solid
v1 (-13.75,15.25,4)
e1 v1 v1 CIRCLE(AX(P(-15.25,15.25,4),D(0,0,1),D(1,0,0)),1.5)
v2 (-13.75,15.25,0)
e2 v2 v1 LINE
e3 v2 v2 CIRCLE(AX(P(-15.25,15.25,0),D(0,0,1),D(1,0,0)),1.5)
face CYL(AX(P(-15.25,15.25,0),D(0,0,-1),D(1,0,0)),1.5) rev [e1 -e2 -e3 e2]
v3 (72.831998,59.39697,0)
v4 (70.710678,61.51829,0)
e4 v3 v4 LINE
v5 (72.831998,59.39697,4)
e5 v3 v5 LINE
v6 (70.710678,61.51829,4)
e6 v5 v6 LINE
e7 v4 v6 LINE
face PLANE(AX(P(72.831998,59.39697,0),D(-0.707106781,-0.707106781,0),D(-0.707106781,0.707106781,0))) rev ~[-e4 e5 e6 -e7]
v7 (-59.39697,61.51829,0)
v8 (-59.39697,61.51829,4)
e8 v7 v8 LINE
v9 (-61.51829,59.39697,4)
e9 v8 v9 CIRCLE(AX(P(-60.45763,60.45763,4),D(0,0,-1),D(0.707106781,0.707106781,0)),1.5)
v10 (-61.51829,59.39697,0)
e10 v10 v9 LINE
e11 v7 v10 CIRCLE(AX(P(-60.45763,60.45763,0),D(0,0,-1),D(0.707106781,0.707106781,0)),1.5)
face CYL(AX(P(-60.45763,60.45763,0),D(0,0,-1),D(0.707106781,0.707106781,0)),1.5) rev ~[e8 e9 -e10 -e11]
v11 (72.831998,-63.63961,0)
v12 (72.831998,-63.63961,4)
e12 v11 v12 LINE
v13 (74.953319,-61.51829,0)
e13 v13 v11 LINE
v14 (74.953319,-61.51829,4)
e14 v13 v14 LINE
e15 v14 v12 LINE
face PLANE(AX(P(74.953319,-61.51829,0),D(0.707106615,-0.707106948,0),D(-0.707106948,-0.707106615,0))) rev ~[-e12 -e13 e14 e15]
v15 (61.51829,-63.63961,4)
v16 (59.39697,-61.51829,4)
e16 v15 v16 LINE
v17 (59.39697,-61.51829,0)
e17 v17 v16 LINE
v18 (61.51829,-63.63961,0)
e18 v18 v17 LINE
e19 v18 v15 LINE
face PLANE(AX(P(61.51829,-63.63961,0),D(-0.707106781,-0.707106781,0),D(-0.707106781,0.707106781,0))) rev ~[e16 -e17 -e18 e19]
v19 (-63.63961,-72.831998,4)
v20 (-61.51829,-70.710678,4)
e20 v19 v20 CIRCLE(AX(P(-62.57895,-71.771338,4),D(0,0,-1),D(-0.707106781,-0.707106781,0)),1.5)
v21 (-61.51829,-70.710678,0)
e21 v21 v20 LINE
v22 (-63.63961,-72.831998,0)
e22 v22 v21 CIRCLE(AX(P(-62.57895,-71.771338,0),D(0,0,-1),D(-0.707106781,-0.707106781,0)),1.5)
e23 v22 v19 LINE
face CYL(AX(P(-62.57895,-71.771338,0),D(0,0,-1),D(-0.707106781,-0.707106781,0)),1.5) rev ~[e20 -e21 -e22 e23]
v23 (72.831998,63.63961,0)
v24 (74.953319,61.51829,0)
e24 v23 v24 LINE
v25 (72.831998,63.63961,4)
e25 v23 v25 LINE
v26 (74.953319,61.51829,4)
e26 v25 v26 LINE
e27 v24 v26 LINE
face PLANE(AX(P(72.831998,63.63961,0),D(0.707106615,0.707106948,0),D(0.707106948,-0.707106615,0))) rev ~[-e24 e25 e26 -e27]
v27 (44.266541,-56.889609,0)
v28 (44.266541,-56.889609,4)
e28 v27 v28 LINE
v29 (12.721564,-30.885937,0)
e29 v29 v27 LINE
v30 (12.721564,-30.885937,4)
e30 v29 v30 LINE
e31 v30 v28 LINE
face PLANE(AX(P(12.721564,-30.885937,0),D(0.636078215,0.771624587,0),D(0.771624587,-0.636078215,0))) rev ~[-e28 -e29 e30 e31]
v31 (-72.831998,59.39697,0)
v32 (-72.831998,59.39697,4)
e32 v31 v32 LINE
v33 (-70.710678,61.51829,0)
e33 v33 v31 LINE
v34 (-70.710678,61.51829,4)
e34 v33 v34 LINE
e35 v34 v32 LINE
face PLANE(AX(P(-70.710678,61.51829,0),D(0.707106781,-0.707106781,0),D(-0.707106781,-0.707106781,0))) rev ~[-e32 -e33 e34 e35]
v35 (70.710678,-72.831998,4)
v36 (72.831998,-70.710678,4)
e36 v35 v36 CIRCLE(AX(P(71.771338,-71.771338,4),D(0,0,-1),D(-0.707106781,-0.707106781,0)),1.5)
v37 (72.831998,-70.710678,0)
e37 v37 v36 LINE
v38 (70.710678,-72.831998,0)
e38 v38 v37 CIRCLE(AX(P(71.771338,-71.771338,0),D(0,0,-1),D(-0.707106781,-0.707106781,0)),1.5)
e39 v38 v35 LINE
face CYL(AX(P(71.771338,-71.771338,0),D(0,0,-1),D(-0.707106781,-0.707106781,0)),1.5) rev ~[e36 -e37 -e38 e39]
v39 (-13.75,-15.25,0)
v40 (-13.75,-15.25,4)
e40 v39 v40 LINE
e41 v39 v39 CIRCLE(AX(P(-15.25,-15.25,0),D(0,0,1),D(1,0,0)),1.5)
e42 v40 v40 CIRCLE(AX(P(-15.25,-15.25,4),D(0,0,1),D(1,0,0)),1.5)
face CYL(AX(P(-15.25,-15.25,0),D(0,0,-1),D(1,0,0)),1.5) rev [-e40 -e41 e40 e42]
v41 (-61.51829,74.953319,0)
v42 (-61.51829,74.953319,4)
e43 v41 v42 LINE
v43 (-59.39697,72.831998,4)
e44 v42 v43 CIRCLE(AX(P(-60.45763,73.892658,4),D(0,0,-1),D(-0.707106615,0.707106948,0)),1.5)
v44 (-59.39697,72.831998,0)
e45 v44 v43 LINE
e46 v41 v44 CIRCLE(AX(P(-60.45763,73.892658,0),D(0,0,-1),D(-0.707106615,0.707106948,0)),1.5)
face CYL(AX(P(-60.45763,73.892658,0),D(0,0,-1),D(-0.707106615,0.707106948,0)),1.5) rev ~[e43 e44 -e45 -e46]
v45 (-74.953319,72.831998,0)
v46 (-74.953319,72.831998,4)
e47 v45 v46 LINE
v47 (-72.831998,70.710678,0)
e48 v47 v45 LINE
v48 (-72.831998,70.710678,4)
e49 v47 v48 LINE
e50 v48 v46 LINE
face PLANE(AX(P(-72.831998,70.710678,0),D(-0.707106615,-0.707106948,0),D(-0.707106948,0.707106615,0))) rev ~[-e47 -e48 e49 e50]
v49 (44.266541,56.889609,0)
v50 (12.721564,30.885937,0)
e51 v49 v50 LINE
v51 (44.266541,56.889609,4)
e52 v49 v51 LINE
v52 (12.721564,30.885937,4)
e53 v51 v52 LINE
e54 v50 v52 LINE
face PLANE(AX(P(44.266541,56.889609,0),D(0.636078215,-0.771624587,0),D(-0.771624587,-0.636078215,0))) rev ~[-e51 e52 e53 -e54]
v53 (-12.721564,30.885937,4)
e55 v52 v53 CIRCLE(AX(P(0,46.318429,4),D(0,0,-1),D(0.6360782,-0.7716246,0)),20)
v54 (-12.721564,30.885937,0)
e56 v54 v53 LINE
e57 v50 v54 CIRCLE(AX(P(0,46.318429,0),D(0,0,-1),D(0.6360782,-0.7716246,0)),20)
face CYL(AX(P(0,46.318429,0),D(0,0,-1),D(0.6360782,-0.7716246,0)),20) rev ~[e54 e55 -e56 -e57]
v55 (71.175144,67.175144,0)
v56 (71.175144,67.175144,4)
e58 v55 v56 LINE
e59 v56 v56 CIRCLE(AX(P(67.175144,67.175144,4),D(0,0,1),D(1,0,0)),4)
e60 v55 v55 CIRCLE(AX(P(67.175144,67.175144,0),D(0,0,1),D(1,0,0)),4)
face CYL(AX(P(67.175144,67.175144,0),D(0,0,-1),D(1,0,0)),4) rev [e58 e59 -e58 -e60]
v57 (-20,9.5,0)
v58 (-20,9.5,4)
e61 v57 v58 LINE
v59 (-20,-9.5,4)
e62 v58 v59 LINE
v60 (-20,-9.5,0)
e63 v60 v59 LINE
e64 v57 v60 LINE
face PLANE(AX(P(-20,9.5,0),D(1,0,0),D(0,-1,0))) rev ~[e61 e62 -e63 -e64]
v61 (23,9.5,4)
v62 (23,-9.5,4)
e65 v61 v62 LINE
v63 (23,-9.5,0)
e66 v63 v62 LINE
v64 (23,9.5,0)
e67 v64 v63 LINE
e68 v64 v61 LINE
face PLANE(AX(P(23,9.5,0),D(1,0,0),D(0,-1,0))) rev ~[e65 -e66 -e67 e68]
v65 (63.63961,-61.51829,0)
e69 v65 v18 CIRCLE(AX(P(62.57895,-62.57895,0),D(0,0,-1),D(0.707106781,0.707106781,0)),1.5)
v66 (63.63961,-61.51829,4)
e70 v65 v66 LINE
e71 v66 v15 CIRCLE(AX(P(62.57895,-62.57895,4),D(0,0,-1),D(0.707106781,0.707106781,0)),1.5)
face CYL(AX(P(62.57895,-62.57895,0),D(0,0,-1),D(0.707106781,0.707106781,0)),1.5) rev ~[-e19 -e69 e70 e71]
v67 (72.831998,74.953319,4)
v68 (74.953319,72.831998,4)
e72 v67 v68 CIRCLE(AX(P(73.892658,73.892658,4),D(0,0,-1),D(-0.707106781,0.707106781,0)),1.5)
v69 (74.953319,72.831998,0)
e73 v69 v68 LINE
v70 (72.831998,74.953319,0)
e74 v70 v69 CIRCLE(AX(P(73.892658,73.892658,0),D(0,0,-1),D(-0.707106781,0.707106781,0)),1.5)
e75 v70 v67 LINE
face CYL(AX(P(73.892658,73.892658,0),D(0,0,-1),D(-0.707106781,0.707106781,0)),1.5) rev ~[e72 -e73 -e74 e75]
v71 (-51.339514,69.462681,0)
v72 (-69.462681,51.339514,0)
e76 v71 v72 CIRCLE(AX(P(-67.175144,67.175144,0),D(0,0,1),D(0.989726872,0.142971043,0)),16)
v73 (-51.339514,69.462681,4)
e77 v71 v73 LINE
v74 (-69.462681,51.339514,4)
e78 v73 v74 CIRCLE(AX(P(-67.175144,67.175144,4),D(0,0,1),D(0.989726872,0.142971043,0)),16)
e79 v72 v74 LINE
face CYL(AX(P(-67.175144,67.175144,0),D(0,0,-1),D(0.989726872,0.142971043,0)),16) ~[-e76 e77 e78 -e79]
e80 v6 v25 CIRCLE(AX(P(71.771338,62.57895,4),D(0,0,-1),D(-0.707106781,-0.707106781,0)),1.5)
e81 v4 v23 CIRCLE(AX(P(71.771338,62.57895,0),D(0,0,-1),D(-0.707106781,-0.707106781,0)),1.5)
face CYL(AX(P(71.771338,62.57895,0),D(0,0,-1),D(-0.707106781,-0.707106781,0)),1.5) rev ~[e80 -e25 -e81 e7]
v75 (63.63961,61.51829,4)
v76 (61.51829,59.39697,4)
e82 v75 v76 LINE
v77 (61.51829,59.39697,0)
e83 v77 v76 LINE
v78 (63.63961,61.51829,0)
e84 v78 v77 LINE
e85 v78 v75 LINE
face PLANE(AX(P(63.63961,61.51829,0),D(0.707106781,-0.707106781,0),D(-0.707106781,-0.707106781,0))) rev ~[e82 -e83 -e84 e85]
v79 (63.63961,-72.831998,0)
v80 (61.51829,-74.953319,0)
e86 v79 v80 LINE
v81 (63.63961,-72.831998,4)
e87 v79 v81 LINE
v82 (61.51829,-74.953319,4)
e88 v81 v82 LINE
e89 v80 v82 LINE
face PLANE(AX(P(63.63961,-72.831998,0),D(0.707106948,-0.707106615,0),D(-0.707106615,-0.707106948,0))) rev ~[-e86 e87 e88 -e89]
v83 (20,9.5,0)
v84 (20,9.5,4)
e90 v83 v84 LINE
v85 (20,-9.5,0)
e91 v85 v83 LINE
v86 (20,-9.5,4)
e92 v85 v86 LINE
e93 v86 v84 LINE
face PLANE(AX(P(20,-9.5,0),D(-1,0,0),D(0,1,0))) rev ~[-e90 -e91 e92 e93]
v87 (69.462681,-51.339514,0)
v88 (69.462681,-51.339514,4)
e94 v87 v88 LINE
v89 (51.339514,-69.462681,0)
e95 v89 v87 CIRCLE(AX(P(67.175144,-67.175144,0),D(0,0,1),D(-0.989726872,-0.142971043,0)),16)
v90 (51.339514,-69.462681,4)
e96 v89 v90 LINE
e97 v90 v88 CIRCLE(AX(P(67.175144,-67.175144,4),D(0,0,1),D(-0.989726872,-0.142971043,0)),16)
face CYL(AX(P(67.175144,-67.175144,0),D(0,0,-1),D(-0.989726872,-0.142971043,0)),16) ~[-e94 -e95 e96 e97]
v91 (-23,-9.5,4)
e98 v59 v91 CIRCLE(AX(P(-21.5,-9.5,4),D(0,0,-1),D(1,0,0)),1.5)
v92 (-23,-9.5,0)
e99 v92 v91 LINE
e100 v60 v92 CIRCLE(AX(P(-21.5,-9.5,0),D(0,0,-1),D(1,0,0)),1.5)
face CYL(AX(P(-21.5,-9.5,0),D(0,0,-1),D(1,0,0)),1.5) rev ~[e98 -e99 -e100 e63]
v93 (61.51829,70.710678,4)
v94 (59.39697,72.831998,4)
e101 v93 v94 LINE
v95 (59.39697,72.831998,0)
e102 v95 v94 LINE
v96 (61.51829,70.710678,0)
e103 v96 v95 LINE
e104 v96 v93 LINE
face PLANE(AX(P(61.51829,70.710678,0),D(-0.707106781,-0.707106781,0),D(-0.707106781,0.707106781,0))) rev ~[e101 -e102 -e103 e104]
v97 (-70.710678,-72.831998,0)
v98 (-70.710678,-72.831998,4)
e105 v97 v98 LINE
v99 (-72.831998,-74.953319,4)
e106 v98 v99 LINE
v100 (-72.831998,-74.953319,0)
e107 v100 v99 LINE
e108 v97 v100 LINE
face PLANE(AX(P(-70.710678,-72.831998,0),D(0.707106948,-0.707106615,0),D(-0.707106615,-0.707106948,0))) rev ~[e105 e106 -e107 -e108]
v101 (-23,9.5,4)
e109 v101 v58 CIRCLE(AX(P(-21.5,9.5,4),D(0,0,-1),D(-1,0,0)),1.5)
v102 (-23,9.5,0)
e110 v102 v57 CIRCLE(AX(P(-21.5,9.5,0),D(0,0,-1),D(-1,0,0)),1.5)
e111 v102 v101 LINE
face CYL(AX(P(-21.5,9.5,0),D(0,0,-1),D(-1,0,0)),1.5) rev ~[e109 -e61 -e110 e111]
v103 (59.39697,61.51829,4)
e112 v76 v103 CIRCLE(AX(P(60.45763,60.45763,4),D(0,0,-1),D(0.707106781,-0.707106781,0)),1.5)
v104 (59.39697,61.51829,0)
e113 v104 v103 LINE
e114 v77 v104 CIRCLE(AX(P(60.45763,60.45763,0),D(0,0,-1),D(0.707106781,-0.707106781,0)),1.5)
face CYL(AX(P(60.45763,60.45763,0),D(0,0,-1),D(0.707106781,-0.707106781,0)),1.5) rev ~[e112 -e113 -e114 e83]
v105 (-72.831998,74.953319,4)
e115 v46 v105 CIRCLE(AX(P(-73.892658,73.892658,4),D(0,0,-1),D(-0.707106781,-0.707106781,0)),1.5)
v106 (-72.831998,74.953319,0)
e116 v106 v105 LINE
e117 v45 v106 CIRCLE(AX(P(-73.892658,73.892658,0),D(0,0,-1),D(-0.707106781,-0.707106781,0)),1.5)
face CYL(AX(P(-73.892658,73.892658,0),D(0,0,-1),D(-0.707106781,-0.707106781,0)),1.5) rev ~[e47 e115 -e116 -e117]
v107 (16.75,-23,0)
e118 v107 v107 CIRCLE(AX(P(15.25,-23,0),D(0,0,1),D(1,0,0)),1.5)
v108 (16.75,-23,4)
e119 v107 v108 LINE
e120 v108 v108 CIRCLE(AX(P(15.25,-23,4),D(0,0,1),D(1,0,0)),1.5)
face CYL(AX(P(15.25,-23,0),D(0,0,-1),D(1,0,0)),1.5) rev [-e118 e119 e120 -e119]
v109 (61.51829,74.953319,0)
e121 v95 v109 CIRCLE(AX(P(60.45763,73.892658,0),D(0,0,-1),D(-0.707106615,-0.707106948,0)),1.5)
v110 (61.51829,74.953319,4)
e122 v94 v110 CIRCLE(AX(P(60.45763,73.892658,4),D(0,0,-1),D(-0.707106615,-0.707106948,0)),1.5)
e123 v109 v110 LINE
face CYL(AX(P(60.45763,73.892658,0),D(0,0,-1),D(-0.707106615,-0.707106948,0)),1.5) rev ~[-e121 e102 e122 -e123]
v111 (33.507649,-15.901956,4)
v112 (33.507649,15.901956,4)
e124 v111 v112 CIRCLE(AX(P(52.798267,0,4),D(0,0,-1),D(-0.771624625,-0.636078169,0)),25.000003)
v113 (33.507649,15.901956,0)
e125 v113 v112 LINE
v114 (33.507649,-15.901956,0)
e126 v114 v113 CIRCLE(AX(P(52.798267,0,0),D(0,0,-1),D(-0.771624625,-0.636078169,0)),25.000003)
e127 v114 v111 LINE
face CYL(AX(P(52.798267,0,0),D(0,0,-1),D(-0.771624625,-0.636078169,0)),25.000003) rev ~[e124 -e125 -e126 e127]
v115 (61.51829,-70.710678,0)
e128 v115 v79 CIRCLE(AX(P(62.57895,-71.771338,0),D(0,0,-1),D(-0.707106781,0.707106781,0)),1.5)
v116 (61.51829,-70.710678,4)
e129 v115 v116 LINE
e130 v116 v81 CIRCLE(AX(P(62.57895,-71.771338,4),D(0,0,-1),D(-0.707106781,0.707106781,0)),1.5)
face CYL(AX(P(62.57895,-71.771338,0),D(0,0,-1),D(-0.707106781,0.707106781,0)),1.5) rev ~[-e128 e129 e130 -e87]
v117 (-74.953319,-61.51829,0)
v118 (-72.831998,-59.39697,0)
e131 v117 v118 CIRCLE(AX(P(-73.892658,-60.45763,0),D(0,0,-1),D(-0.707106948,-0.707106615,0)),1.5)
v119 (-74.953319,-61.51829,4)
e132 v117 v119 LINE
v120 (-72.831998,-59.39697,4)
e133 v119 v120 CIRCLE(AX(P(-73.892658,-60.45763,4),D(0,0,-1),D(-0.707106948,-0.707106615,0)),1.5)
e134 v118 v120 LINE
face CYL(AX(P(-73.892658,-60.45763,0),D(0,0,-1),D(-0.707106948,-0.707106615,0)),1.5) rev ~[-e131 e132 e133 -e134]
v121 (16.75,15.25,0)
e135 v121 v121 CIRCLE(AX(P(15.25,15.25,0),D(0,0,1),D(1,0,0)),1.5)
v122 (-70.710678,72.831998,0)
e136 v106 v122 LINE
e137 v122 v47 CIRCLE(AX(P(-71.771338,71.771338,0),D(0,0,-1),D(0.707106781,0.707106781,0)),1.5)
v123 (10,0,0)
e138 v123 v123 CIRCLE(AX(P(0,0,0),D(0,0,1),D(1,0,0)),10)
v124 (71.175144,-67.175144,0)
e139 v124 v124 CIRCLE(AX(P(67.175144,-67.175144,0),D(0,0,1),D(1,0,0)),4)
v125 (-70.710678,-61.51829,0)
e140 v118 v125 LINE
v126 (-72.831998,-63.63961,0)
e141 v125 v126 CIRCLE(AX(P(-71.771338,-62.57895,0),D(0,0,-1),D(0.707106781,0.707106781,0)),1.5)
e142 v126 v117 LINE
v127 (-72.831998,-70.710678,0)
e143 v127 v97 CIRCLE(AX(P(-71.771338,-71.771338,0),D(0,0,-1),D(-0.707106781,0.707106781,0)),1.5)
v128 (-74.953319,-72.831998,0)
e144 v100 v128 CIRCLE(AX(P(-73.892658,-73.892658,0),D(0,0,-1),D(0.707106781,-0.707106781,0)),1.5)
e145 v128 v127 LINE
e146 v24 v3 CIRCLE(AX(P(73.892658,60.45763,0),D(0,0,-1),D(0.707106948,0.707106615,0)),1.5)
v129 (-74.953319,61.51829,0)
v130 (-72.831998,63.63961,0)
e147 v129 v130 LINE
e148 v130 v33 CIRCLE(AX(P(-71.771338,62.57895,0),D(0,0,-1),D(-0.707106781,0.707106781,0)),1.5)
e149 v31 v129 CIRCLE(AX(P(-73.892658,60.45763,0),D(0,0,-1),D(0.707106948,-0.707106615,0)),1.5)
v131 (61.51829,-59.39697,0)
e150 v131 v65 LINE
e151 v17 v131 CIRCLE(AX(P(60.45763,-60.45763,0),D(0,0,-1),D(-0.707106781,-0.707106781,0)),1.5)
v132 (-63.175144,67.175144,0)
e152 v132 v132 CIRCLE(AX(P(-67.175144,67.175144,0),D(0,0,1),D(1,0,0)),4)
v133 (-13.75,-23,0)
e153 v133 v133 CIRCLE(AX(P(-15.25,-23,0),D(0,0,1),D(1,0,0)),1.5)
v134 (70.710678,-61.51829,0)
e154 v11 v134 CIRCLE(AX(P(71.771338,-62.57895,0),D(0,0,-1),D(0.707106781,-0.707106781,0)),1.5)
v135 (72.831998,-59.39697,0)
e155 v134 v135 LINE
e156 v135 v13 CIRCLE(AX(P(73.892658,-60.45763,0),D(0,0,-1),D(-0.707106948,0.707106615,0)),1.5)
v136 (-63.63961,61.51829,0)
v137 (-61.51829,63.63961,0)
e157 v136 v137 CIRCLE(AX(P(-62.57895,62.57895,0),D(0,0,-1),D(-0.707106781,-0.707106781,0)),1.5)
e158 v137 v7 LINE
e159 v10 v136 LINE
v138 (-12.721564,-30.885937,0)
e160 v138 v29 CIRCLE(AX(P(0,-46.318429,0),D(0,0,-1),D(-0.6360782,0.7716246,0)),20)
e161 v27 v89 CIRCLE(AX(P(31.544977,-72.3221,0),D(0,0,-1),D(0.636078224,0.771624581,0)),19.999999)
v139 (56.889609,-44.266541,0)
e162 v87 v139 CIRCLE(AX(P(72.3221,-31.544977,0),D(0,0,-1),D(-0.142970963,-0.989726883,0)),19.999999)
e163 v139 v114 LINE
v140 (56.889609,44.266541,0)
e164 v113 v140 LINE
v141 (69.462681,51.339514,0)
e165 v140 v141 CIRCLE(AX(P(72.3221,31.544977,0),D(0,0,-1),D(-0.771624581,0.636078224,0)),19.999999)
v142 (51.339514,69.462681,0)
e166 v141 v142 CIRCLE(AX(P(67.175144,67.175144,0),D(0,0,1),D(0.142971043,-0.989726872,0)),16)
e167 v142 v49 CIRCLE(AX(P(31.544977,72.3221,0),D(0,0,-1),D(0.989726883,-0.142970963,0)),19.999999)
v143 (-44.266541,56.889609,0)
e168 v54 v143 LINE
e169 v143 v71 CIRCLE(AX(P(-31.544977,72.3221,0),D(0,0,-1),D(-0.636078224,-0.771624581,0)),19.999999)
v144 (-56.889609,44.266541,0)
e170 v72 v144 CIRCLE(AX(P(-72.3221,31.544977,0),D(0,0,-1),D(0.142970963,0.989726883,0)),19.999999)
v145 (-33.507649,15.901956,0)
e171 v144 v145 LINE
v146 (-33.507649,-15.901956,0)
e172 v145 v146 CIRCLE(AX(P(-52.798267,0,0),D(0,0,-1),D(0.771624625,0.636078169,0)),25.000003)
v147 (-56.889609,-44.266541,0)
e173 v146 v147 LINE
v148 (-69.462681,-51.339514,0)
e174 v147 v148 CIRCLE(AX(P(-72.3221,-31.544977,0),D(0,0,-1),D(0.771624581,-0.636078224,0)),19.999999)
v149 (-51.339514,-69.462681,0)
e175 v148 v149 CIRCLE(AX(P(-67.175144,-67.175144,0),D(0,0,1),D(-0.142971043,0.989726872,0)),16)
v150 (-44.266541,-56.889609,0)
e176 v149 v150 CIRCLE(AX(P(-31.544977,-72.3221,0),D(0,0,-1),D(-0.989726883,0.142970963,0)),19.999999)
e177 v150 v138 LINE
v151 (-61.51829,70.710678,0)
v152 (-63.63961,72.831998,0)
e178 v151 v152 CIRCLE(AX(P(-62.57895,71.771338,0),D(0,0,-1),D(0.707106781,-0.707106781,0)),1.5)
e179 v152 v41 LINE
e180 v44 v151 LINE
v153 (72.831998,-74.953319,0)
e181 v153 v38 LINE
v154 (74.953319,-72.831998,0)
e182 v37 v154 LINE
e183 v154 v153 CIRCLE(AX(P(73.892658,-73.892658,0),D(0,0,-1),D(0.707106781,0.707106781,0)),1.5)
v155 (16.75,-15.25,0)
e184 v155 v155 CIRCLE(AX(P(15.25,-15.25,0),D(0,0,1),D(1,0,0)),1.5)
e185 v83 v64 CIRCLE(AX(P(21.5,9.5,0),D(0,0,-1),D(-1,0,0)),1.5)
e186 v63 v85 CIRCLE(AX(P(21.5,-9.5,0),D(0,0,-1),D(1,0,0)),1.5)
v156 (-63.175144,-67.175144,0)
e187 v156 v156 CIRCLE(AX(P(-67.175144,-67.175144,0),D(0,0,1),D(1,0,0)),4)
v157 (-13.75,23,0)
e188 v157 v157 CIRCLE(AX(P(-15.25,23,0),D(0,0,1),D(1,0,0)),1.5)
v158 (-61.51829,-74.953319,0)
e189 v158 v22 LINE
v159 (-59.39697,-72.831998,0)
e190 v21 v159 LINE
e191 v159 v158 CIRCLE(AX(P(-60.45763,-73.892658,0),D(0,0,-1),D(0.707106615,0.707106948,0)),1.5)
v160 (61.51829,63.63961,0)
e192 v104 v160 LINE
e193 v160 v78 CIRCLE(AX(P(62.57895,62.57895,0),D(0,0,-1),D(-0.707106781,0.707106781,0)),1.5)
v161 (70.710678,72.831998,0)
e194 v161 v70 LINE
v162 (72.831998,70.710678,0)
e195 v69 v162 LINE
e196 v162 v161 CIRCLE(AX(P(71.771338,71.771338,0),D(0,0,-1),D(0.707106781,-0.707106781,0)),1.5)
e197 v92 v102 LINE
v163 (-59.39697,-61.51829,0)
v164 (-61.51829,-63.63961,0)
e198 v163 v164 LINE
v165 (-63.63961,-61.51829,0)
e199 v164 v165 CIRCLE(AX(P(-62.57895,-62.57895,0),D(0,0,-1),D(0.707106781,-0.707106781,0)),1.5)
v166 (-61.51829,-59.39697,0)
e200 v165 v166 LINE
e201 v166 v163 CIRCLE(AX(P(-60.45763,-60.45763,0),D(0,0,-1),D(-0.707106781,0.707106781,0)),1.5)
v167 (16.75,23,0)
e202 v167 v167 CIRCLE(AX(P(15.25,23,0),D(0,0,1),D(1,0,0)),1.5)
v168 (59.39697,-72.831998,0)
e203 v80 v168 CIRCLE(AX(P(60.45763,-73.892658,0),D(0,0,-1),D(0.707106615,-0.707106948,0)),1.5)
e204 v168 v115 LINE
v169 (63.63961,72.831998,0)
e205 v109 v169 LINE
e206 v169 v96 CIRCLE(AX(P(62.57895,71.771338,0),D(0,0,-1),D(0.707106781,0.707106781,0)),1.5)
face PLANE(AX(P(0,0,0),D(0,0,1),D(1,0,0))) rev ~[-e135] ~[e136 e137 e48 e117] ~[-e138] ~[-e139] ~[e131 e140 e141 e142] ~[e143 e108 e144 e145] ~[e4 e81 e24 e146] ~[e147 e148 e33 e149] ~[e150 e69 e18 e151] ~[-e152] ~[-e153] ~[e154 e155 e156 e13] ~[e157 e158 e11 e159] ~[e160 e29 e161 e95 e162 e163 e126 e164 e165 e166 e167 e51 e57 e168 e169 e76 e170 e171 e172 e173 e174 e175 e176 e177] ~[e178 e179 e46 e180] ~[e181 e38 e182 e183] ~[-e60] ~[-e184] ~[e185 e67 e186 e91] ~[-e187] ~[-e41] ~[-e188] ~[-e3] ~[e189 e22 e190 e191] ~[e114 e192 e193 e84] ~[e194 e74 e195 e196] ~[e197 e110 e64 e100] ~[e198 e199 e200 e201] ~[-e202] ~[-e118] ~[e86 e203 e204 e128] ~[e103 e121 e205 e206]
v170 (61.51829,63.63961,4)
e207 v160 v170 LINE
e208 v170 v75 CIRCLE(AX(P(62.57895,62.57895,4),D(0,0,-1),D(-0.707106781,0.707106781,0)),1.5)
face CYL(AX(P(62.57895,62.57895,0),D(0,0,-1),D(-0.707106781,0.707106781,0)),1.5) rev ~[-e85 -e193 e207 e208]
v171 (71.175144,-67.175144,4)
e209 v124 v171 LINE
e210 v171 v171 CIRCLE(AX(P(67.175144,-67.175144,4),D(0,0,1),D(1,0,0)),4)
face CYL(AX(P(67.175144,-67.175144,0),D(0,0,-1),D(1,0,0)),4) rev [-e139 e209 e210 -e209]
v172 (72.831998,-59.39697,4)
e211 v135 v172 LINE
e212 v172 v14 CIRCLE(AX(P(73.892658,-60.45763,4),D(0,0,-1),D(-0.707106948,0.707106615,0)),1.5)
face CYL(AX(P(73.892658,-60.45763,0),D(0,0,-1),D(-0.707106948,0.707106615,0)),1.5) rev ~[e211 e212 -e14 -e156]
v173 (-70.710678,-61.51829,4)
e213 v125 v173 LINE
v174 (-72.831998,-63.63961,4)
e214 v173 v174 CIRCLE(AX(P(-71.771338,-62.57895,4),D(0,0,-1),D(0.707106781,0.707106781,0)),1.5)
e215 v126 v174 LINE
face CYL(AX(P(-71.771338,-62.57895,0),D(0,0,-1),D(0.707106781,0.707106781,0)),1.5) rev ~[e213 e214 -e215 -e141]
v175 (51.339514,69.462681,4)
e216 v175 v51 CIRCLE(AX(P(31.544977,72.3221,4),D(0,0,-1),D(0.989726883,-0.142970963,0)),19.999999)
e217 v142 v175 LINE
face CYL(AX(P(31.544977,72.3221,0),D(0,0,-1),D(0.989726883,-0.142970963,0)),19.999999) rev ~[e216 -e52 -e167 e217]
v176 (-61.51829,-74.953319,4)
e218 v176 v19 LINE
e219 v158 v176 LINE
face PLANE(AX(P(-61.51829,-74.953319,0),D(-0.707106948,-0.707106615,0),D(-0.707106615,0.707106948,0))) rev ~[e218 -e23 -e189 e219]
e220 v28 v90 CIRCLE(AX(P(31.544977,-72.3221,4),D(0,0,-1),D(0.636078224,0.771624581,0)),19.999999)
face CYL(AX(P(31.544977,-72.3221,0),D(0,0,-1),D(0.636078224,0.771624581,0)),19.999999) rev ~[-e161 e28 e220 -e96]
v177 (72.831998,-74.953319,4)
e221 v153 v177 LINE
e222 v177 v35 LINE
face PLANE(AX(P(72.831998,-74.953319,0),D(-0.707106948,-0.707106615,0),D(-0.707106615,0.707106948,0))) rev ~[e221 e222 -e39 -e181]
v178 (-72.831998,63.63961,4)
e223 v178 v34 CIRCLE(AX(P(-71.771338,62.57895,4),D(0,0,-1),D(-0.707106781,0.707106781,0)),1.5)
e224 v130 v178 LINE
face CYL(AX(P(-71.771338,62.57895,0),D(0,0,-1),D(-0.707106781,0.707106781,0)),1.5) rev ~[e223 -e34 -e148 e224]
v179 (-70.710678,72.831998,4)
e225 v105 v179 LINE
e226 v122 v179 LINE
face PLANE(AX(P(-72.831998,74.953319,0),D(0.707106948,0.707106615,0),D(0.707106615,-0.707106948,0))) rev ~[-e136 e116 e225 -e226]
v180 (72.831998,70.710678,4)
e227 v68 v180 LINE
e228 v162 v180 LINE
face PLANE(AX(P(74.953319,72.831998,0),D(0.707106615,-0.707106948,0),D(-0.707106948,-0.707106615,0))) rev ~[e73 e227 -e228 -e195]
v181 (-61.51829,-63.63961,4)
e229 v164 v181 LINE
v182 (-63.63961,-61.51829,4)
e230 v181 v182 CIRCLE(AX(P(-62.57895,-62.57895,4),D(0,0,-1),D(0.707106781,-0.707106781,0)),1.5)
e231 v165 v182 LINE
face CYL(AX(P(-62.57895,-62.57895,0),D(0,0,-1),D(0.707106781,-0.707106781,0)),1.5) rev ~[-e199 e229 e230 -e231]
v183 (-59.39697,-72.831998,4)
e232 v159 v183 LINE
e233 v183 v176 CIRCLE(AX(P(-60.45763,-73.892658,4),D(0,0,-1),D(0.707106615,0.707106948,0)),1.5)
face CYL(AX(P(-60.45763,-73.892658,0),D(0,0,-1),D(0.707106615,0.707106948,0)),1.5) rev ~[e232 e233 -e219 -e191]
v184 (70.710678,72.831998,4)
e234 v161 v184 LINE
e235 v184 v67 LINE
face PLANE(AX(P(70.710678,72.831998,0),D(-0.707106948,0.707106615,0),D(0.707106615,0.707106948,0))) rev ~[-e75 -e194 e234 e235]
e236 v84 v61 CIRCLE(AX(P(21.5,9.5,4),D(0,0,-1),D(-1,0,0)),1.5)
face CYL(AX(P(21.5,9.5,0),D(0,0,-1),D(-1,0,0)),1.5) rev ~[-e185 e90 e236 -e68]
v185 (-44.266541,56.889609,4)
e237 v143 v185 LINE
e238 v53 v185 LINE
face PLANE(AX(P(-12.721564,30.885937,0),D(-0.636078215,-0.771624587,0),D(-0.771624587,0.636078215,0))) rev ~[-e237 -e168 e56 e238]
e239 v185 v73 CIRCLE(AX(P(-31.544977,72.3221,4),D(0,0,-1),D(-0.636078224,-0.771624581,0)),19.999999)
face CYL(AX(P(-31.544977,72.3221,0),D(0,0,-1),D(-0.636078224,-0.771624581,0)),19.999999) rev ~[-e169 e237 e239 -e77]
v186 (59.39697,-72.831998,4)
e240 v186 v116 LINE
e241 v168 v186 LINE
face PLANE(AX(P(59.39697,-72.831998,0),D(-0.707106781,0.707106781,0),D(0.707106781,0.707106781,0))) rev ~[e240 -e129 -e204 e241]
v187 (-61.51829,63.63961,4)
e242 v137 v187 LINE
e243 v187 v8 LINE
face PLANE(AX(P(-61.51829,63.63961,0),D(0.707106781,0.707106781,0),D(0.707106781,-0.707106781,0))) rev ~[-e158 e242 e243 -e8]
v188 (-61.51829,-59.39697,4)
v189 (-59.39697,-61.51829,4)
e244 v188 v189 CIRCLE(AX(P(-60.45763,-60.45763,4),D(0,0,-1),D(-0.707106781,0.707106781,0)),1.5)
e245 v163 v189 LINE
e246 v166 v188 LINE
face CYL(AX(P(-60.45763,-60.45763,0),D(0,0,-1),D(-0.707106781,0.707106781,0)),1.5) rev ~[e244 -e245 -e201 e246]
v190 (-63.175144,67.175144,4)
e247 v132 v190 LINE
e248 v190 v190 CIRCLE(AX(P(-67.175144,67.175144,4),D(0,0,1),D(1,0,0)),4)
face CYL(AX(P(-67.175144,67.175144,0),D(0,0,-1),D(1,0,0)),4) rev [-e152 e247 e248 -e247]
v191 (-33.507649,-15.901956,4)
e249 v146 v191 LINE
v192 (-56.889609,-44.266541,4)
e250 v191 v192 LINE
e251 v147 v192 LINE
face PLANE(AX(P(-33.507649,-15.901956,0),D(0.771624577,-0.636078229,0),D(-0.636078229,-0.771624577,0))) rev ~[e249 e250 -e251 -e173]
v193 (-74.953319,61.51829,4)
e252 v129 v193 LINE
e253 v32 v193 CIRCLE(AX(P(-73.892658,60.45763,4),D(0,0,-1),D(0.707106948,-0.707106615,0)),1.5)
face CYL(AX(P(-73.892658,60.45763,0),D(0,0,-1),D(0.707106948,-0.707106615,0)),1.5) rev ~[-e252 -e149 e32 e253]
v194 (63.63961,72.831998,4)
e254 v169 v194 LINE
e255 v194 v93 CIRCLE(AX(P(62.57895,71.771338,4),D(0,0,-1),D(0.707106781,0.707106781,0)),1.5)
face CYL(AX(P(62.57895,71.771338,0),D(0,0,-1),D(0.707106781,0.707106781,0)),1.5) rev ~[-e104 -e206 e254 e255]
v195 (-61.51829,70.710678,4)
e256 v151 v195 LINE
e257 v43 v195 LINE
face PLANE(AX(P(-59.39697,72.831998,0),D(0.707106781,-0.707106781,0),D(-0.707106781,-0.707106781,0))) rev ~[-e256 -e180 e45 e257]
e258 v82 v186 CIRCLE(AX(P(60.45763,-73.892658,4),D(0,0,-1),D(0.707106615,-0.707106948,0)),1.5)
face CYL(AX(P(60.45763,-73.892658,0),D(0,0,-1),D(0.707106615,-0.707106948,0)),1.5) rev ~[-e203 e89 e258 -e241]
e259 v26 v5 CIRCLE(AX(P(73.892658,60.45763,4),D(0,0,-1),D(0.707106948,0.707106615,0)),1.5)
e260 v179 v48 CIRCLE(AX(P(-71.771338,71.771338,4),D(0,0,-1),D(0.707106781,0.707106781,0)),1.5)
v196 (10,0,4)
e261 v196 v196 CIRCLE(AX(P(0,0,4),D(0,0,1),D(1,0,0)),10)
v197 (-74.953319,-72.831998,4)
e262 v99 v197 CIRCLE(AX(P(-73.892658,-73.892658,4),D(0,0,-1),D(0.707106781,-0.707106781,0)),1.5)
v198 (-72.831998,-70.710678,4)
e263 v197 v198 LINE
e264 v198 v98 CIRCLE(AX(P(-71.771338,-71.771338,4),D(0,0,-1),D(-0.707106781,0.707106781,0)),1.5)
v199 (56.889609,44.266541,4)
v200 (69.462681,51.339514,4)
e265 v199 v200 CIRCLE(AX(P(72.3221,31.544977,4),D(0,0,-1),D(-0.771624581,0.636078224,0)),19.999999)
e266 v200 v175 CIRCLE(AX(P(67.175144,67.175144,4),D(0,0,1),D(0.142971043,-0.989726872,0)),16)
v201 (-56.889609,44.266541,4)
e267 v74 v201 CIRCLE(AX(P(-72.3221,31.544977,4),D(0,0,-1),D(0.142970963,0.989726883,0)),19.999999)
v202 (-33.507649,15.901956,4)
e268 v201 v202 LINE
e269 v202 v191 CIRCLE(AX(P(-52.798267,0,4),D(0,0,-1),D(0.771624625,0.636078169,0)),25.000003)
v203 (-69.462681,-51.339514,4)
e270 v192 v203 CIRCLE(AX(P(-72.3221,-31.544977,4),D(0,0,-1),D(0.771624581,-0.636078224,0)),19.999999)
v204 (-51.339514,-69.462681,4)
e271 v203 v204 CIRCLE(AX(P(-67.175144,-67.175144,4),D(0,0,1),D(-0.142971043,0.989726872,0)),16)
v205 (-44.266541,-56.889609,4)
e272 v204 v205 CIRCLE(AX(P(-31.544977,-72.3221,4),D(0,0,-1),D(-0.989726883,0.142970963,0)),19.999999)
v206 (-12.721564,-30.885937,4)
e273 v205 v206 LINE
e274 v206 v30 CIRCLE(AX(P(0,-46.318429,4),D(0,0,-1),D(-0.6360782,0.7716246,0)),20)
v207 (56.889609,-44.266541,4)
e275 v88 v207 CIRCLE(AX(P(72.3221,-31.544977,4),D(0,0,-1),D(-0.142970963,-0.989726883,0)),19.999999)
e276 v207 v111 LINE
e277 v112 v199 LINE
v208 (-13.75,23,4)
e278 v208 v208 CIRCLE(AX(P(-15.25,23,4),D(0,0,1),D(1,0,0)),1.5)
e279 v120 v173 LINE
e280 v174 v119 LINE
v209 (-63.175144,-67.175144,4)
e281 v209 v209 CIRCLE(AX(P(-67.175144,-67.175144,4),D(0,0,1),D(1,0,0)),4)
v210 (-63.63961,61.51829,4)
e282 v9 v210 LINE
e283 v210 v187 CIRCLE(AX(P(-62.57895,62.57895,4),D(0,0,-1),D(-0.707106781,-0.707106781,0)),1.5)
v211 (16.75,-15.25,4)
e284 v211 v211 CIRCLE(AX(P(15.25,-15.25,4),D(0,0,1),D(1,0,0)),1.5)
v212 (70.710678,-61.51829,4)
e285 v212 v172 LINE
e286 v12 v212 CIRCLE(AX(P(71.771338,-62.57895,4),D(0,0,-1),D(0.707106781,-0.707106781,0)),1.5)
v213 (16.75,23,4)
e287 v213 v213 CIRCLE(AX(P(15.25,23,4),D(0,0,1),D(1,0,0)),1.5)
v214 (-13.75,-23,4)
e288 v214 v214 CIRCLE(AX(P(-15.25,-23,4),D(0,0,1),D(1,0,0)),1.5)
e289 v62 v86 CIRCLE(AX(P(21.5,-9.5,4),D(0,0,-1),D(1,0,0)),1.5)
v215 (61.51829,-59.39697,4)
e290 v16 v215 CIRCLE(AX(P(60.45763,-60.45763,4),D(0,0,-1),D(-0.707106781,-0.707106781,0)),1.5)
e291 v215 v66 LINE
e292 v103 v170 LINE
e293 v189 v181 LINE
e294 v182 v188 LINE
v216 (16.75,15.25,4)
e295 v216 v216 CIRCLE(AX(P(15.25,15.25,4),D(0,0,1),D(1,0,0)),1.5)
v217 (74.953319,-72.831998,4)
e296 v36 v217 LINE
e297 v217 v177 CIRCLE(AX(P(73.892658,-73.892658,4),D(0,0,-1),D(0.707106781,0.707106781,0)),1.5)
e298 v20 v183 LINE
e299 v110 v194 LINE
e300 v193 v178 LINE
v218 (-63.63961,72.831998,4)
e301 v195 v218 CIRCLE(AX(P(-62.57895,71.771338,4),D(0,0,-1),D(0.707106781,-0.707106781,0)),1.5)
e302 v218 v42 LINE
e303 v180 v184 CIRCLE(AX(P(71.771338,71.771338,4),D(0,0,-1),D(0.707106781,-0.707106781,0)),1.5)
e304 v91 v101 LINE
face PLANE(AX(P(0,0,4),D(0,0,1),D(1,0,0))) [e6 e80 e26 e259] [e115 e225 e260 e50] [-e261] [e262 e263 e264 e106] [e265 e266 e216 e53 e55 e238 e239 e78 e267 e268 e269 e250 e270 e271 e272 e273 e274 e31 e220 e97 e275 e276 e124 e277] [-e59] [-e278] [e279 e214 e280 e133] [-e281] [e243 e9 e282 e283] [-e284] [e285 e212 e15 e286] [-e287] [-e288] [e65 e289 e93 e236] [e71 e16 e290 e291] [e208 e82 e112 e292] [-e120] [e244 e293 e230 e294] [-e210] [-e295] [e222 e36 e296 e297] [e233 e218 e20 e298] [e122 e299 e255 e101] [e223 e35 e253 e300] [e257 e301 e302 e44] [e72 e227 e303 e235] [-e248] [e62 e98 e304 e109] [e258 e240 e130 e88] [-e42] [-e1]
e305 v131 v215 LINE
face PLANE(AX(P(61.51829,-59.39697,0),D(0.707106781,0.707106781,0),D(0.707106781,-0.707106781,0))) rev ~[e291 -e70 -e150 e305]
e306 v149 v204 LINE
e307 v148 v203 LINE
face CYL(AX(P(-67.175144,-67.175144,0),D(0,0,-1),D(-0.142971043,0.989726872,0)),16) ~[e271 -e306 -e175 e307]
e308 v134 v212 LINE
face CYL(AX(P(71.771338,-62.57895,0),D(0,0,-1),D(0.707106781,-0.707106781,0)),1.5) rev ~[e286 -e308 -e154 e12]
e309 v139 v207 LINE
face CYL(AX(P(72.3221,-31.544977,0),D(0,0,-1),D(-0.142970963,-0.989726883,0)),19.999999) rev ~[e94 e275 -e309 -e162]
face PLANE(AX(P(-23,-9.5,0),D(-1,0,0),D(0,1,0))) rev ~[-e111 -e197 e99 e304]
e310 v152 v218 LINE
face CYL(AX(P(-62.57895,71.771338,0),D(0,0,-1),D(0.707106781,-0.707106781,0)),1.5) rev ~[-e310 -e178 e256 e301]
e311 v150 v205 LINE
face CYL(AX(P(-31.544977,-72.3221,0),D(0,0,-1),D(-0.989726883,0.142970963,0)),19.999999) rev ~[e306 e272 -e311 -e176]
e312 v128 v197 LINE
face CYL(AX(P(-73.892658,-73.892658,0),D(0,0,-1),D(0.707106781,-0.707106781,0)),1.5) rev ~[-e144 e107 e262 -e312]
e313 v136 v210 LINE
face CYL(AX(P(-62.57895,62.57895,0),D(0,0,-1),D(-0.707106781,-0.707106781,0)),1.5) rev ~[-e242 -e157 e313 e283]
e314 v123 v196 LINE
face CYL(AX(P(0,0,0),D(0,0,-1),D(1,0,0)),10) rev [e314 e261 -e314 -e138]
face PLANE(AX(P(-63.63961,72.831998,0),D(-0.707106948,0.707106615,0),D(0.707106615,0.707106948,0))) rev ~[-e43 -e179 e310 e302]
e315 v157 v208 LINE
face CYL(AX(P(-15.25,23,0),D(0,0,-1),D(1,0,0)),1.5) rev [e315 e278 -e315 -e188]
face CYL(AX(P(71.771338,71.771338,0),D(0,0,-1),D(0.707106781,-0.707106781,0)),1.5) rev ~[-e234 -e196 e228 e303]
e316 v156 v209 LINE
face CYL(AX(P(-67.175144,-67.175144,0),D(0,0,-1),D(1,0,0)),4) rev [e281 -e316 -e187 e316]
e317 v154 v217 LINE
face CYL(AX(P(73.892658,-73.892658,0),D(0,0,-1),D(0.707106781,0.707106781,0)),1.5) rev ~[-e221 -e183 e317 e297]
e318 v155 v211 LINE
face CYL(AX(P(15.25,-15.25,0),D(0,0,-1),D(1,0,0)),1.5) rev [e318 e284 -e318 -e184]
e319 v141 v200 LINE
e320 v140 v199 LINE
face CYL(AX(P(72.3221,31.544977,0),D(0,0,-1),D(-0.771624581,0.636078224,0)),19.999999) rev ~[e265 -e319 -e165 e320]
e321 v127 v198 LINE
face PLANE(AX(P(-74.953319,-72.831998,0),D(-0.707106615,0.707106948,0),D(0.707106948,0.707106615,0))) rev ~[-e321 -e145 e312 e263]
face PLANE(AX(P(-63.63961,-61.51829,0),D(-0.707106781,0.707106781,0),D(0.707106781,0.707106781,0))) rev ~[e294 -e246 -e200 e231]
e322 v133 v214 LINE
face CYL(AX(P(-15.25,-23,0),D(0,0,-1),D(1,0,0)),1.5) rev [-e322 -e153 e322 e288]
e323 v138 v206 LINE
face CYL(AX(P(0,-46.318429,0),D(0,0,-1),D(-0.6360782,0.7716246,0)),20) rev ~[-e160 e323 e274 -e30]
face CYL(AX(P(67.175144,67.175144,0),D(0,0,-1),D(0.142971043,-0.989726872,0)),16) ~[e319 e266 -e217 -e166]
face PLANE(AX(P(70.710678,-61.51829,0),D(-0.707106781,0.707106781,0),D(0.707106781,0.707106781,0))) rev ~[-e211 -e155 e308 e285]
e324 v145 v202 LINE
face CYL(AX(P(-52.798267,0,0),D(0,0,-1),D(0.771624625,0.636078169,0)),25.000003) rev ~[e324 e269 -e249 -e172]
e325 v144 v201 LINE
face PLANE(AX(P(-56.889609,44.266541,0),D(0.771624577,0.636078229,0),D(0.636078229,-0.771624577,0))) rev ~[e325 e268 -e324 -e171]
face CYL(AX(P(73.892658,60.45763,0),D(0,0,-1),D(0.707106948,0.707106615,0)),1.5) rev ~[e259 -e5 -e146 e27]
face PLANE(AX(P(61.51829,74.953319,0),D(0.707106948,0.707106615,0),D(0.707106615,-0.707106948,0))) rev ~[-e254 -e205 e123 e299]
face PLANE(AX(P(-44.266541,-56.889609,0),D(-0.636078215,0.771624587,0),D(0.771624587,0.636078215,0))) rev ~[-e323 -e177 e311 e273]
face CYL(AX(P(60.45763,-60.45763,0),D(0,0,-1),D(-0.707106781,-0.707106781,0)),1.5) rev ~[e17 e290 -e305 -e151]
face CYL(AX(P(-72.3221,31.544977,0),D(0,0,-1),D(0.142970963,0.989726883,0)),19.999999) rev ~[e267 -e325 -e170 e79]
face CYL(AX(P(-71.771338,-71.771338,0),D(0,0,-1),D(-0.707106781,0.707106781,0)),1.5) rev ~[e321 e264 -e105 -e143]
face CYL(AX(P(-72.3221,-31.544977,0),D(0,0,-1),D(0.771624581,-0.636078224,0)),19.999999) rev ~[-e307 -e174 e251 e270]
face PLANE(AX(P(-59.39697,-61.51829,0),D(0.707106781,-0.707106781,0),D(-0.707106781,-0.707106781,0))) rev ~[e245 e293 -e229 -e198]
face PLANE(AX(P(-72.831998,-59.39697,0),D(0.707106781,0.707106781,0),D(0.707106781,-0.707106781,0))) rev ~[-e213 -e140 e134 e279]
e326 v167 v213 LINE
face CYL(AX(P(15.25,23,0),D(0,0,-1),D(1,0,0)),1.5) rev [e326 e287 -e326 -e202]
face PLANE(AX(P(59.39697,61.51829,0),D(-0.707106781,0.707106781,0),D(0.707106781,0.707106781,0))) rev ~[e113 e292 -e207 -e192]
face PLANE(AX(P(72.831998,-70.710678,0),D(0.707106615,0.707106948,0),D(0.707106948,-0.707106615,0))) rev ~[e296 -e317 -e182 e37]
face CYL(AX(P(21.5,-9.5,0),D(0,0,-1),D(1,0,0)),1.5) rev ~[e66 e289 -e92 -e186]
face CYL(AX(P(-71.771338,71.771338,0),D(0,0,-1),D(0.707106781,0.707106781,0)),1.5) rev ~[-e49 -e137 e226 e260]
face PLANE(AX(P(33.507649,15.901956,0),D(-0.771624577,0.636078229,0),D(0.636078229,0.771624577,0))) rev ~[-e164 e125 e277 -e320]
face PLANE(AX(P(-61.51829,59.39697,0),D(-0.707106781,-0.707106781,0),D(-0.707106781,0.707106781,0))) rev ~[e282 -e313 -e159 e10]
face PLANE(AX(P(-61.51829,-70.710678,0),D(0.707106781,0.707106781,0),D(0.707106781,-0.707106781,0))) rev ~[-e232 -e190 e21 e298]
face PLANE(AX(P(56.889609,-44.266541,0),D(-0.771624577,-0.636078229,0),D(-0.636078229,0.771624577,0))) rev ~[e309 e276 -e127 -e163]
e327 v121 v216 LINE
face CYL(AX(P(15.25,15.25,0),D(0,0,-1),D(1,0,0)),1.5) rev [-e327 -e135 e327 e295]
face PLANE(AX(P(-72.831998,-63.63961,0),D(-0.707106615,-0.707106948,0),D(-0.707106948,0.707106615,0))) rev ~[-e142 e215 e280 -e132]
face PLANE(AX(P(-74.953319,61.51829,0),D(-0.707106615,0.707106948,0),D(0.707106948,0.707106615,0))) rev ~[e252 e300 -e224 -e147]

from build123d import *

# Parameters (mm, degrees)
F0_R     = 4
F0_R_2   = 1.5
F0_R_3   = 10
F1_DEPTH = 4


with BuildPart() as f1:
    # F0 (on Top) → F1 (new body)
    with BuildSketch(Plane.XY):
        with BuildLine():
            ThreePointArc((-44.266541, 56.889609), (-48.97612, 62.516223), (-51.339514, 69.462681))
            ThreePointArc((-51.339514, 69.462681), (-78.488853, 78.488853), (-69.462681, 51.339514))
            ThreePointArc((-69.462681, 51.339514), (-62.516223, 48.97612), (-56.889609, 44.266541))
            Line((-56.889609, 44.266541), (-33.507649, 15.901956))
            ThreePointArc((-33.507649, 15.901956), (-27.798264, 0), (-33.507649, -15.901956))
            Line((-33.507649, -15.901956), (-56.889609, -44.266541))
            ThreePointArc((-56.889609, -44.266541), (-62.516223, -48.97612), (-69.462681, -51.339514))
            ThreePointArc((-69.462681, -51.339514), (-78.488853, -78.488853), (-51.339514, -69.462681))
            ThreePointArc((-51.339514, -69.462681), (-48.97612, -62.516223), (-44.266541, -56.889609))
            Line((-44.266541, -56.889609), (-12.721564, -30.885937))
            ThreePointArc((-12.721564, -30.885937), (0, -26.318429), (12.721564, -30.885937))
            Line((12.721564, -30.885937), (44.266541, -56.889609))
            ThreePointArc((44.266541, -56.889609), (48.97612, -62.516223), (51.339514, -69.462681))
            ThreePointArc((51.339514, -69.462681), (78.488853, -78.488853), (69.462681, -51.339514))
            ThreePointArc((69.462681, -51.339514), (62.516223, -48.97612), (56.889609, -44.266541))
            Line((56.889609, -44.266541), (33.507649, -15.901956))
            ThreePointArc((33.507649, -15.901956), (27.798264, 0), (33.507649, 15.901956))
            Line((33.507649, 15.901956), (56.889609, 44.266541))
            ThreePointArc((56.889609, 44.266541), (62.516223, 48.97612), (69.462681, 51.339514))
            ThreePointArc((69.462681, 51.339514), (78.488853, 78.488853), (51.339514, 69.462681))
            ThreePointArc((51.339514, 69.462681), (48.97612, 62.516223), (44.266541, 56.889609))
            Line((44.266541, 56.889609), (12.721564, 30.885937))
            ThreePointArc((12.721564, 30.885937), (0, 26.318429), (-12.721564, 30.885937))
            Line((-12.721564, 30.885937), (-44.266541, 56.889609))
        make_face()
        with BuildLine():
            ThreePointArc((-72.831998, -70.710678), (-70.710678, -70.710678), (-70.710678, -72.831998))
            Line((-70.710678, -72.831998), (-72.831998, -74.953319))
            ThreePointArc((-72.831998, -74.953319), (-74.953319, -74.953319), (-74.953319, -72.831998))
            Line((-74.953319, -72.831998), (-72.831998, -70.710678))
        make_face(mode=Mode.SUBTRACT)
        with Locations((-67.175144, -67.175144)):
            Circle(F0_R, mode=Mode.SUBTRACT)
        with BuildLine():
            Line((-61.51829, -74.953319), (-63.63961, -72.831998))
            ThreePointArc((-63.63961, -72.831998), (-63.63961, -70.710678), (-61.51829, -70.710678))
            Line((-61.51829, -70.710678), (-59.39697, -72.831998))
            ThreePointArc((-59.39697, -72.831998), (-59.39697, -74.953319), (-61.51829, -74.953319))
        make_face(mode=Mode.SUBTRACT)
        with BuildLine():
            Line((-72.831998, -59.39697), (-70.710678, -61.51829))
            ThreePointArc((-70.710678, -61.51829), (-70.710678, -63.63961), (-72.831998, -63.63961))
            Line((-72.831998, -63.63961), (-74.953319, -61.51829))
            ThreePointArc((-74.953319, -61.51829), (-74.953319, -59.39697), (-72.831998, -59.39697))
        make_face(mode=Mode.SUBTRACT)
        with BuildLine():
            Line((-59.39697, -61.51829), (-61.51829, -63.63961))
            ThreePointArc((-61.51829, -63.63961), (-63.63961, -63.63961), (-63.63961, -61.51829))
            Line((-63.63961, -61.51829), (-61.51829, -59.39697))
            ThreePointArc((-61.51829, -59.39697), (-59.39697, -59.39697), (-59.39697, -61.51829))
        make_face(mode=Mode.SUBTRACT)
        with Locations((-15.25, -23)):
            Circle(F0_R_2, mode=Mode.SUBTRACT)
        with BuildLine():
            Line((-23, -9.5), (-23, 9.5))
            ThreePointArc((-23, 9.5), (-21.5, 11), (-20, 9.5))
            Line((-20, 9.5), (-20, -9.5))
            ThreePointArc((-20, -9.5), (-21.5, -11), (-23, -9.5))
        make_face(mode=Mode.SUBTRACT)
        with Locations((-15.25, -15.25)):
            Circle(F0_R_2, mode=Mode.SUBTRACT)
        with BuildLine():
            Line((59.39697, -72.831998), (61.51829, -70.710678))
            ThreePointArc((61.51829, -70.710678), (63.63961, -70.710678), (63.63961, -72.831998))
            Line((63.63961, -72.831998), (61.51829, -74.953319))
            ThreePointArc((61.51829, -74.953319), (59.39697, -74.953319), (59.39697, -72.831998))
        make_face(mode=Mode.SUBTRACT)
        with BuildLine():
            ThreePointArc((74.953319, -72.831998), (74.953319, -74.953319), (72.831998, -74.953319))
            Line((72.831998, -74.953319), (70.710678, -72.831998))
            ThreePointArc((70.710678, -72.831998), (70.710678, -70.710678), (72.831998, -70.710678))
            Line((72.831998, -70.710678), (74.953319, -72.831998))
        make_face(mode=Mode.SUBTRACT)
        with Locations((67.175144, -67.175144)):
            Circle(F0_R, mode=Mode.SUBTRACT)
        with BuildLine():
            ThreePointArc((63.63961, -61.51829), (63.63961, -63.63961), (61.51829, -63.63961))
            Line((61.51829, -63.63961), (59.39697, -61.51829))
            ThreePointArc((59.39697, -61.51829), (59.39697, -59.39697), (61.51829, -59.39697))
            Line((61.51829, -59.39697), (63.63961, -61.51829))
        make_face(mode=Mode.SUBTRACT)
        with BuildLine():
            ThreePointArc((72.831998, -63.63961), (70.710678, -63.63961), (70.710678, -61.51829))
            Line((70.710678, -61.51829), (72.831998, -59.39697))
            ThreePointArc((72.831998, -59.39697), (74.953319, -59.39697), (74.953319, -61.51829))
            Line((74.953319, -61.51829), (72.831998, -63.63961))
        make_face(mode=Mode.SUBTRACT)
        with Locations((15.25, -23)):
            Circle(F0_R_2, mode=Mode.SUBTRACT)
        with Locations((15.25, -15.25)):
            Circle(F0_R_2, mode=Mode.SUBTRACT)
        Circle(F0_R_3, mode=Mode.SUBTRACT)
        with BuildLine():
            ThreePointArc((20, 9.5), (21.5, 11), (23, 9.5))
            Line((23, 9.5), (23, -9.5))
            ThreePointArc((23, -9.5), (21.5, -11), (20, -9.5))
            Line((20, -9.5), (20, 9.5))
        make_face(mode=Mode.SUBTRACT)
        with Locations((-15.25, 15.25)):
            Circle(F0_R_2, mode=Mode.SUBTRACT)
        with Locations((-15.25, 23)):
            Circle(F0_R_2, mode=Mode.SUBTRACT)
        with BuildLine():
            ThreePointArc((-72.831998, 63.63961), (-70.710678, 63.63961), (-70.710678, 61.51829))
            Line((-70.710678, 61.51829), (-72.831998, 59.39697))
            ThreePointArc((-72.831998, 59.39697), (-74.953319, 59.39697), (-74.953319, 61.51829))
            Line((-74.953319, 61.51829), (-72.831998, 63.63961))
        make_face(mode=Mode.SUBTRACT)
        with BuildLine():
            ThreePointArc((-63.63961, 61.51829), (-63.63961, 63.63961), (-61.51829, 63.63961))
            Line((-61.51829, 63.63961), (-59.39697, 61.51829))
            ThreePointArc((-59.39697, 61.51829), (-59.39697, 59.39697), (-61.51829, 59.39697))
            Line((-61.51829, 59.39697), (-63.63961, 61.51829))
        make_face(mode=Mode.SUBTRACT)
        with Locations((-67.175144, 67.175144)):
            Circle(F0_R, mode=Mode.SUBTRACT)
        with BuildLine():
            ThreePointArc((-70.710678, 72.831998), (-70.710678, 70.710678), (-72.831998, 70.710678))
            Line((-72.831998, 70.710678), (-74.953319, 72.831998))
            ThreePointArc((-74.953319, 72.831998), (-74.953319, 74.953319), (-72.831998, 74.953319))
            Line((-72.831998, 74.953319), (-70.710678, 72.831998))
        make_face(mode=Mode.SUBTRACT)
        with BuildLine():
            ThreePointArc((-61.51829, 70.710678), (-63.63961, 70.710678), (-63.63961, 72.831998))
            Line((-63.63961, 72.831998), (-61.51829, 74.953319))
            ThreePointArc((-61.51829, 74.953319), (-59.39697, 74.953319), (-59.39697, 72.831998))
            Line((-59.39697, 72.831998), (-61.51829, 70.710678))
        make_face(mode=Mode.SUBTRACT)
        with Locations((15.25, 15.25)):
            Circle(F0_R_2, mode=Mode.SUBTRACT)
        with Locations((15.25, 23)):
            Circle(F0_R_2, mode=Mode.SUBTRACT)
        with BuildLine():
            Line((59.39697, 61.51829), (61.51829, 63.63961))
            ThreePointArc((61.51829, 63.63961), (63.63961, 63.63961), (63.63961, 61.51829))
            Line((63.63961, 61.51829), (61.51829, 59.39697))
            ThreePointArc((61.51829, 59.39697), (59.39697, 59.39697), (59.39697, 61.51829))
        make_face(mode=Mode.SUBTRACT)
        with BuildLine():
            Line((72.831998, 59.39697), (70.710678, 61.51829))
            ThreePointArc((70.710678, 61.51829), (70.710678, 63.63961), (72.831998, 63.63961))
            Line((72.831998, 63.63961), (74.953319, 61.51829))
            ThreePointArc((74.953319, 61.51829), (74.953319, 59.39697), (72.831998, 59.39697))
        make_face(mode=Mode.SUBTRACT)
        with BuildLine():
            Line((61.51829, 74.953319), (63.63961, 72.831998))
            ThreePointArc((63.63961, 72.831998), (63.63961, 70.710678), (61.51829, 70.710678))
            Line((61.51829, 70.710678), (59.39697, 72.831998))
            ThreePointArc((59.39697, 72.831998), (59.39697, 74.953319), (61.51829, 74.953319))
        make_face(mode=Mode.SUBTRACT)
        with Locations((67.175144, 67.175144)):
            Circle(F0_R, mode=Mode.SUBTRACT)
        with BuildLine():
            Line((74.953319, 72.831998), (72.831998, 70.710678))
            ThreePointArc((72.831998, 70.710678), (70.710678, 70.710678), (70.710678, 72.831998))
            Line((70.710678, 72.831998), (72.831998, 74.953319))
            ThreePointArc((72.831998, 74.953319), (74.953319, 74.953319), (74.953319, 72.831998))
        make_face(mode=Mode.SUBTRACT)
    extrude(amount=F1_DEPTH)


solid = f1.part
